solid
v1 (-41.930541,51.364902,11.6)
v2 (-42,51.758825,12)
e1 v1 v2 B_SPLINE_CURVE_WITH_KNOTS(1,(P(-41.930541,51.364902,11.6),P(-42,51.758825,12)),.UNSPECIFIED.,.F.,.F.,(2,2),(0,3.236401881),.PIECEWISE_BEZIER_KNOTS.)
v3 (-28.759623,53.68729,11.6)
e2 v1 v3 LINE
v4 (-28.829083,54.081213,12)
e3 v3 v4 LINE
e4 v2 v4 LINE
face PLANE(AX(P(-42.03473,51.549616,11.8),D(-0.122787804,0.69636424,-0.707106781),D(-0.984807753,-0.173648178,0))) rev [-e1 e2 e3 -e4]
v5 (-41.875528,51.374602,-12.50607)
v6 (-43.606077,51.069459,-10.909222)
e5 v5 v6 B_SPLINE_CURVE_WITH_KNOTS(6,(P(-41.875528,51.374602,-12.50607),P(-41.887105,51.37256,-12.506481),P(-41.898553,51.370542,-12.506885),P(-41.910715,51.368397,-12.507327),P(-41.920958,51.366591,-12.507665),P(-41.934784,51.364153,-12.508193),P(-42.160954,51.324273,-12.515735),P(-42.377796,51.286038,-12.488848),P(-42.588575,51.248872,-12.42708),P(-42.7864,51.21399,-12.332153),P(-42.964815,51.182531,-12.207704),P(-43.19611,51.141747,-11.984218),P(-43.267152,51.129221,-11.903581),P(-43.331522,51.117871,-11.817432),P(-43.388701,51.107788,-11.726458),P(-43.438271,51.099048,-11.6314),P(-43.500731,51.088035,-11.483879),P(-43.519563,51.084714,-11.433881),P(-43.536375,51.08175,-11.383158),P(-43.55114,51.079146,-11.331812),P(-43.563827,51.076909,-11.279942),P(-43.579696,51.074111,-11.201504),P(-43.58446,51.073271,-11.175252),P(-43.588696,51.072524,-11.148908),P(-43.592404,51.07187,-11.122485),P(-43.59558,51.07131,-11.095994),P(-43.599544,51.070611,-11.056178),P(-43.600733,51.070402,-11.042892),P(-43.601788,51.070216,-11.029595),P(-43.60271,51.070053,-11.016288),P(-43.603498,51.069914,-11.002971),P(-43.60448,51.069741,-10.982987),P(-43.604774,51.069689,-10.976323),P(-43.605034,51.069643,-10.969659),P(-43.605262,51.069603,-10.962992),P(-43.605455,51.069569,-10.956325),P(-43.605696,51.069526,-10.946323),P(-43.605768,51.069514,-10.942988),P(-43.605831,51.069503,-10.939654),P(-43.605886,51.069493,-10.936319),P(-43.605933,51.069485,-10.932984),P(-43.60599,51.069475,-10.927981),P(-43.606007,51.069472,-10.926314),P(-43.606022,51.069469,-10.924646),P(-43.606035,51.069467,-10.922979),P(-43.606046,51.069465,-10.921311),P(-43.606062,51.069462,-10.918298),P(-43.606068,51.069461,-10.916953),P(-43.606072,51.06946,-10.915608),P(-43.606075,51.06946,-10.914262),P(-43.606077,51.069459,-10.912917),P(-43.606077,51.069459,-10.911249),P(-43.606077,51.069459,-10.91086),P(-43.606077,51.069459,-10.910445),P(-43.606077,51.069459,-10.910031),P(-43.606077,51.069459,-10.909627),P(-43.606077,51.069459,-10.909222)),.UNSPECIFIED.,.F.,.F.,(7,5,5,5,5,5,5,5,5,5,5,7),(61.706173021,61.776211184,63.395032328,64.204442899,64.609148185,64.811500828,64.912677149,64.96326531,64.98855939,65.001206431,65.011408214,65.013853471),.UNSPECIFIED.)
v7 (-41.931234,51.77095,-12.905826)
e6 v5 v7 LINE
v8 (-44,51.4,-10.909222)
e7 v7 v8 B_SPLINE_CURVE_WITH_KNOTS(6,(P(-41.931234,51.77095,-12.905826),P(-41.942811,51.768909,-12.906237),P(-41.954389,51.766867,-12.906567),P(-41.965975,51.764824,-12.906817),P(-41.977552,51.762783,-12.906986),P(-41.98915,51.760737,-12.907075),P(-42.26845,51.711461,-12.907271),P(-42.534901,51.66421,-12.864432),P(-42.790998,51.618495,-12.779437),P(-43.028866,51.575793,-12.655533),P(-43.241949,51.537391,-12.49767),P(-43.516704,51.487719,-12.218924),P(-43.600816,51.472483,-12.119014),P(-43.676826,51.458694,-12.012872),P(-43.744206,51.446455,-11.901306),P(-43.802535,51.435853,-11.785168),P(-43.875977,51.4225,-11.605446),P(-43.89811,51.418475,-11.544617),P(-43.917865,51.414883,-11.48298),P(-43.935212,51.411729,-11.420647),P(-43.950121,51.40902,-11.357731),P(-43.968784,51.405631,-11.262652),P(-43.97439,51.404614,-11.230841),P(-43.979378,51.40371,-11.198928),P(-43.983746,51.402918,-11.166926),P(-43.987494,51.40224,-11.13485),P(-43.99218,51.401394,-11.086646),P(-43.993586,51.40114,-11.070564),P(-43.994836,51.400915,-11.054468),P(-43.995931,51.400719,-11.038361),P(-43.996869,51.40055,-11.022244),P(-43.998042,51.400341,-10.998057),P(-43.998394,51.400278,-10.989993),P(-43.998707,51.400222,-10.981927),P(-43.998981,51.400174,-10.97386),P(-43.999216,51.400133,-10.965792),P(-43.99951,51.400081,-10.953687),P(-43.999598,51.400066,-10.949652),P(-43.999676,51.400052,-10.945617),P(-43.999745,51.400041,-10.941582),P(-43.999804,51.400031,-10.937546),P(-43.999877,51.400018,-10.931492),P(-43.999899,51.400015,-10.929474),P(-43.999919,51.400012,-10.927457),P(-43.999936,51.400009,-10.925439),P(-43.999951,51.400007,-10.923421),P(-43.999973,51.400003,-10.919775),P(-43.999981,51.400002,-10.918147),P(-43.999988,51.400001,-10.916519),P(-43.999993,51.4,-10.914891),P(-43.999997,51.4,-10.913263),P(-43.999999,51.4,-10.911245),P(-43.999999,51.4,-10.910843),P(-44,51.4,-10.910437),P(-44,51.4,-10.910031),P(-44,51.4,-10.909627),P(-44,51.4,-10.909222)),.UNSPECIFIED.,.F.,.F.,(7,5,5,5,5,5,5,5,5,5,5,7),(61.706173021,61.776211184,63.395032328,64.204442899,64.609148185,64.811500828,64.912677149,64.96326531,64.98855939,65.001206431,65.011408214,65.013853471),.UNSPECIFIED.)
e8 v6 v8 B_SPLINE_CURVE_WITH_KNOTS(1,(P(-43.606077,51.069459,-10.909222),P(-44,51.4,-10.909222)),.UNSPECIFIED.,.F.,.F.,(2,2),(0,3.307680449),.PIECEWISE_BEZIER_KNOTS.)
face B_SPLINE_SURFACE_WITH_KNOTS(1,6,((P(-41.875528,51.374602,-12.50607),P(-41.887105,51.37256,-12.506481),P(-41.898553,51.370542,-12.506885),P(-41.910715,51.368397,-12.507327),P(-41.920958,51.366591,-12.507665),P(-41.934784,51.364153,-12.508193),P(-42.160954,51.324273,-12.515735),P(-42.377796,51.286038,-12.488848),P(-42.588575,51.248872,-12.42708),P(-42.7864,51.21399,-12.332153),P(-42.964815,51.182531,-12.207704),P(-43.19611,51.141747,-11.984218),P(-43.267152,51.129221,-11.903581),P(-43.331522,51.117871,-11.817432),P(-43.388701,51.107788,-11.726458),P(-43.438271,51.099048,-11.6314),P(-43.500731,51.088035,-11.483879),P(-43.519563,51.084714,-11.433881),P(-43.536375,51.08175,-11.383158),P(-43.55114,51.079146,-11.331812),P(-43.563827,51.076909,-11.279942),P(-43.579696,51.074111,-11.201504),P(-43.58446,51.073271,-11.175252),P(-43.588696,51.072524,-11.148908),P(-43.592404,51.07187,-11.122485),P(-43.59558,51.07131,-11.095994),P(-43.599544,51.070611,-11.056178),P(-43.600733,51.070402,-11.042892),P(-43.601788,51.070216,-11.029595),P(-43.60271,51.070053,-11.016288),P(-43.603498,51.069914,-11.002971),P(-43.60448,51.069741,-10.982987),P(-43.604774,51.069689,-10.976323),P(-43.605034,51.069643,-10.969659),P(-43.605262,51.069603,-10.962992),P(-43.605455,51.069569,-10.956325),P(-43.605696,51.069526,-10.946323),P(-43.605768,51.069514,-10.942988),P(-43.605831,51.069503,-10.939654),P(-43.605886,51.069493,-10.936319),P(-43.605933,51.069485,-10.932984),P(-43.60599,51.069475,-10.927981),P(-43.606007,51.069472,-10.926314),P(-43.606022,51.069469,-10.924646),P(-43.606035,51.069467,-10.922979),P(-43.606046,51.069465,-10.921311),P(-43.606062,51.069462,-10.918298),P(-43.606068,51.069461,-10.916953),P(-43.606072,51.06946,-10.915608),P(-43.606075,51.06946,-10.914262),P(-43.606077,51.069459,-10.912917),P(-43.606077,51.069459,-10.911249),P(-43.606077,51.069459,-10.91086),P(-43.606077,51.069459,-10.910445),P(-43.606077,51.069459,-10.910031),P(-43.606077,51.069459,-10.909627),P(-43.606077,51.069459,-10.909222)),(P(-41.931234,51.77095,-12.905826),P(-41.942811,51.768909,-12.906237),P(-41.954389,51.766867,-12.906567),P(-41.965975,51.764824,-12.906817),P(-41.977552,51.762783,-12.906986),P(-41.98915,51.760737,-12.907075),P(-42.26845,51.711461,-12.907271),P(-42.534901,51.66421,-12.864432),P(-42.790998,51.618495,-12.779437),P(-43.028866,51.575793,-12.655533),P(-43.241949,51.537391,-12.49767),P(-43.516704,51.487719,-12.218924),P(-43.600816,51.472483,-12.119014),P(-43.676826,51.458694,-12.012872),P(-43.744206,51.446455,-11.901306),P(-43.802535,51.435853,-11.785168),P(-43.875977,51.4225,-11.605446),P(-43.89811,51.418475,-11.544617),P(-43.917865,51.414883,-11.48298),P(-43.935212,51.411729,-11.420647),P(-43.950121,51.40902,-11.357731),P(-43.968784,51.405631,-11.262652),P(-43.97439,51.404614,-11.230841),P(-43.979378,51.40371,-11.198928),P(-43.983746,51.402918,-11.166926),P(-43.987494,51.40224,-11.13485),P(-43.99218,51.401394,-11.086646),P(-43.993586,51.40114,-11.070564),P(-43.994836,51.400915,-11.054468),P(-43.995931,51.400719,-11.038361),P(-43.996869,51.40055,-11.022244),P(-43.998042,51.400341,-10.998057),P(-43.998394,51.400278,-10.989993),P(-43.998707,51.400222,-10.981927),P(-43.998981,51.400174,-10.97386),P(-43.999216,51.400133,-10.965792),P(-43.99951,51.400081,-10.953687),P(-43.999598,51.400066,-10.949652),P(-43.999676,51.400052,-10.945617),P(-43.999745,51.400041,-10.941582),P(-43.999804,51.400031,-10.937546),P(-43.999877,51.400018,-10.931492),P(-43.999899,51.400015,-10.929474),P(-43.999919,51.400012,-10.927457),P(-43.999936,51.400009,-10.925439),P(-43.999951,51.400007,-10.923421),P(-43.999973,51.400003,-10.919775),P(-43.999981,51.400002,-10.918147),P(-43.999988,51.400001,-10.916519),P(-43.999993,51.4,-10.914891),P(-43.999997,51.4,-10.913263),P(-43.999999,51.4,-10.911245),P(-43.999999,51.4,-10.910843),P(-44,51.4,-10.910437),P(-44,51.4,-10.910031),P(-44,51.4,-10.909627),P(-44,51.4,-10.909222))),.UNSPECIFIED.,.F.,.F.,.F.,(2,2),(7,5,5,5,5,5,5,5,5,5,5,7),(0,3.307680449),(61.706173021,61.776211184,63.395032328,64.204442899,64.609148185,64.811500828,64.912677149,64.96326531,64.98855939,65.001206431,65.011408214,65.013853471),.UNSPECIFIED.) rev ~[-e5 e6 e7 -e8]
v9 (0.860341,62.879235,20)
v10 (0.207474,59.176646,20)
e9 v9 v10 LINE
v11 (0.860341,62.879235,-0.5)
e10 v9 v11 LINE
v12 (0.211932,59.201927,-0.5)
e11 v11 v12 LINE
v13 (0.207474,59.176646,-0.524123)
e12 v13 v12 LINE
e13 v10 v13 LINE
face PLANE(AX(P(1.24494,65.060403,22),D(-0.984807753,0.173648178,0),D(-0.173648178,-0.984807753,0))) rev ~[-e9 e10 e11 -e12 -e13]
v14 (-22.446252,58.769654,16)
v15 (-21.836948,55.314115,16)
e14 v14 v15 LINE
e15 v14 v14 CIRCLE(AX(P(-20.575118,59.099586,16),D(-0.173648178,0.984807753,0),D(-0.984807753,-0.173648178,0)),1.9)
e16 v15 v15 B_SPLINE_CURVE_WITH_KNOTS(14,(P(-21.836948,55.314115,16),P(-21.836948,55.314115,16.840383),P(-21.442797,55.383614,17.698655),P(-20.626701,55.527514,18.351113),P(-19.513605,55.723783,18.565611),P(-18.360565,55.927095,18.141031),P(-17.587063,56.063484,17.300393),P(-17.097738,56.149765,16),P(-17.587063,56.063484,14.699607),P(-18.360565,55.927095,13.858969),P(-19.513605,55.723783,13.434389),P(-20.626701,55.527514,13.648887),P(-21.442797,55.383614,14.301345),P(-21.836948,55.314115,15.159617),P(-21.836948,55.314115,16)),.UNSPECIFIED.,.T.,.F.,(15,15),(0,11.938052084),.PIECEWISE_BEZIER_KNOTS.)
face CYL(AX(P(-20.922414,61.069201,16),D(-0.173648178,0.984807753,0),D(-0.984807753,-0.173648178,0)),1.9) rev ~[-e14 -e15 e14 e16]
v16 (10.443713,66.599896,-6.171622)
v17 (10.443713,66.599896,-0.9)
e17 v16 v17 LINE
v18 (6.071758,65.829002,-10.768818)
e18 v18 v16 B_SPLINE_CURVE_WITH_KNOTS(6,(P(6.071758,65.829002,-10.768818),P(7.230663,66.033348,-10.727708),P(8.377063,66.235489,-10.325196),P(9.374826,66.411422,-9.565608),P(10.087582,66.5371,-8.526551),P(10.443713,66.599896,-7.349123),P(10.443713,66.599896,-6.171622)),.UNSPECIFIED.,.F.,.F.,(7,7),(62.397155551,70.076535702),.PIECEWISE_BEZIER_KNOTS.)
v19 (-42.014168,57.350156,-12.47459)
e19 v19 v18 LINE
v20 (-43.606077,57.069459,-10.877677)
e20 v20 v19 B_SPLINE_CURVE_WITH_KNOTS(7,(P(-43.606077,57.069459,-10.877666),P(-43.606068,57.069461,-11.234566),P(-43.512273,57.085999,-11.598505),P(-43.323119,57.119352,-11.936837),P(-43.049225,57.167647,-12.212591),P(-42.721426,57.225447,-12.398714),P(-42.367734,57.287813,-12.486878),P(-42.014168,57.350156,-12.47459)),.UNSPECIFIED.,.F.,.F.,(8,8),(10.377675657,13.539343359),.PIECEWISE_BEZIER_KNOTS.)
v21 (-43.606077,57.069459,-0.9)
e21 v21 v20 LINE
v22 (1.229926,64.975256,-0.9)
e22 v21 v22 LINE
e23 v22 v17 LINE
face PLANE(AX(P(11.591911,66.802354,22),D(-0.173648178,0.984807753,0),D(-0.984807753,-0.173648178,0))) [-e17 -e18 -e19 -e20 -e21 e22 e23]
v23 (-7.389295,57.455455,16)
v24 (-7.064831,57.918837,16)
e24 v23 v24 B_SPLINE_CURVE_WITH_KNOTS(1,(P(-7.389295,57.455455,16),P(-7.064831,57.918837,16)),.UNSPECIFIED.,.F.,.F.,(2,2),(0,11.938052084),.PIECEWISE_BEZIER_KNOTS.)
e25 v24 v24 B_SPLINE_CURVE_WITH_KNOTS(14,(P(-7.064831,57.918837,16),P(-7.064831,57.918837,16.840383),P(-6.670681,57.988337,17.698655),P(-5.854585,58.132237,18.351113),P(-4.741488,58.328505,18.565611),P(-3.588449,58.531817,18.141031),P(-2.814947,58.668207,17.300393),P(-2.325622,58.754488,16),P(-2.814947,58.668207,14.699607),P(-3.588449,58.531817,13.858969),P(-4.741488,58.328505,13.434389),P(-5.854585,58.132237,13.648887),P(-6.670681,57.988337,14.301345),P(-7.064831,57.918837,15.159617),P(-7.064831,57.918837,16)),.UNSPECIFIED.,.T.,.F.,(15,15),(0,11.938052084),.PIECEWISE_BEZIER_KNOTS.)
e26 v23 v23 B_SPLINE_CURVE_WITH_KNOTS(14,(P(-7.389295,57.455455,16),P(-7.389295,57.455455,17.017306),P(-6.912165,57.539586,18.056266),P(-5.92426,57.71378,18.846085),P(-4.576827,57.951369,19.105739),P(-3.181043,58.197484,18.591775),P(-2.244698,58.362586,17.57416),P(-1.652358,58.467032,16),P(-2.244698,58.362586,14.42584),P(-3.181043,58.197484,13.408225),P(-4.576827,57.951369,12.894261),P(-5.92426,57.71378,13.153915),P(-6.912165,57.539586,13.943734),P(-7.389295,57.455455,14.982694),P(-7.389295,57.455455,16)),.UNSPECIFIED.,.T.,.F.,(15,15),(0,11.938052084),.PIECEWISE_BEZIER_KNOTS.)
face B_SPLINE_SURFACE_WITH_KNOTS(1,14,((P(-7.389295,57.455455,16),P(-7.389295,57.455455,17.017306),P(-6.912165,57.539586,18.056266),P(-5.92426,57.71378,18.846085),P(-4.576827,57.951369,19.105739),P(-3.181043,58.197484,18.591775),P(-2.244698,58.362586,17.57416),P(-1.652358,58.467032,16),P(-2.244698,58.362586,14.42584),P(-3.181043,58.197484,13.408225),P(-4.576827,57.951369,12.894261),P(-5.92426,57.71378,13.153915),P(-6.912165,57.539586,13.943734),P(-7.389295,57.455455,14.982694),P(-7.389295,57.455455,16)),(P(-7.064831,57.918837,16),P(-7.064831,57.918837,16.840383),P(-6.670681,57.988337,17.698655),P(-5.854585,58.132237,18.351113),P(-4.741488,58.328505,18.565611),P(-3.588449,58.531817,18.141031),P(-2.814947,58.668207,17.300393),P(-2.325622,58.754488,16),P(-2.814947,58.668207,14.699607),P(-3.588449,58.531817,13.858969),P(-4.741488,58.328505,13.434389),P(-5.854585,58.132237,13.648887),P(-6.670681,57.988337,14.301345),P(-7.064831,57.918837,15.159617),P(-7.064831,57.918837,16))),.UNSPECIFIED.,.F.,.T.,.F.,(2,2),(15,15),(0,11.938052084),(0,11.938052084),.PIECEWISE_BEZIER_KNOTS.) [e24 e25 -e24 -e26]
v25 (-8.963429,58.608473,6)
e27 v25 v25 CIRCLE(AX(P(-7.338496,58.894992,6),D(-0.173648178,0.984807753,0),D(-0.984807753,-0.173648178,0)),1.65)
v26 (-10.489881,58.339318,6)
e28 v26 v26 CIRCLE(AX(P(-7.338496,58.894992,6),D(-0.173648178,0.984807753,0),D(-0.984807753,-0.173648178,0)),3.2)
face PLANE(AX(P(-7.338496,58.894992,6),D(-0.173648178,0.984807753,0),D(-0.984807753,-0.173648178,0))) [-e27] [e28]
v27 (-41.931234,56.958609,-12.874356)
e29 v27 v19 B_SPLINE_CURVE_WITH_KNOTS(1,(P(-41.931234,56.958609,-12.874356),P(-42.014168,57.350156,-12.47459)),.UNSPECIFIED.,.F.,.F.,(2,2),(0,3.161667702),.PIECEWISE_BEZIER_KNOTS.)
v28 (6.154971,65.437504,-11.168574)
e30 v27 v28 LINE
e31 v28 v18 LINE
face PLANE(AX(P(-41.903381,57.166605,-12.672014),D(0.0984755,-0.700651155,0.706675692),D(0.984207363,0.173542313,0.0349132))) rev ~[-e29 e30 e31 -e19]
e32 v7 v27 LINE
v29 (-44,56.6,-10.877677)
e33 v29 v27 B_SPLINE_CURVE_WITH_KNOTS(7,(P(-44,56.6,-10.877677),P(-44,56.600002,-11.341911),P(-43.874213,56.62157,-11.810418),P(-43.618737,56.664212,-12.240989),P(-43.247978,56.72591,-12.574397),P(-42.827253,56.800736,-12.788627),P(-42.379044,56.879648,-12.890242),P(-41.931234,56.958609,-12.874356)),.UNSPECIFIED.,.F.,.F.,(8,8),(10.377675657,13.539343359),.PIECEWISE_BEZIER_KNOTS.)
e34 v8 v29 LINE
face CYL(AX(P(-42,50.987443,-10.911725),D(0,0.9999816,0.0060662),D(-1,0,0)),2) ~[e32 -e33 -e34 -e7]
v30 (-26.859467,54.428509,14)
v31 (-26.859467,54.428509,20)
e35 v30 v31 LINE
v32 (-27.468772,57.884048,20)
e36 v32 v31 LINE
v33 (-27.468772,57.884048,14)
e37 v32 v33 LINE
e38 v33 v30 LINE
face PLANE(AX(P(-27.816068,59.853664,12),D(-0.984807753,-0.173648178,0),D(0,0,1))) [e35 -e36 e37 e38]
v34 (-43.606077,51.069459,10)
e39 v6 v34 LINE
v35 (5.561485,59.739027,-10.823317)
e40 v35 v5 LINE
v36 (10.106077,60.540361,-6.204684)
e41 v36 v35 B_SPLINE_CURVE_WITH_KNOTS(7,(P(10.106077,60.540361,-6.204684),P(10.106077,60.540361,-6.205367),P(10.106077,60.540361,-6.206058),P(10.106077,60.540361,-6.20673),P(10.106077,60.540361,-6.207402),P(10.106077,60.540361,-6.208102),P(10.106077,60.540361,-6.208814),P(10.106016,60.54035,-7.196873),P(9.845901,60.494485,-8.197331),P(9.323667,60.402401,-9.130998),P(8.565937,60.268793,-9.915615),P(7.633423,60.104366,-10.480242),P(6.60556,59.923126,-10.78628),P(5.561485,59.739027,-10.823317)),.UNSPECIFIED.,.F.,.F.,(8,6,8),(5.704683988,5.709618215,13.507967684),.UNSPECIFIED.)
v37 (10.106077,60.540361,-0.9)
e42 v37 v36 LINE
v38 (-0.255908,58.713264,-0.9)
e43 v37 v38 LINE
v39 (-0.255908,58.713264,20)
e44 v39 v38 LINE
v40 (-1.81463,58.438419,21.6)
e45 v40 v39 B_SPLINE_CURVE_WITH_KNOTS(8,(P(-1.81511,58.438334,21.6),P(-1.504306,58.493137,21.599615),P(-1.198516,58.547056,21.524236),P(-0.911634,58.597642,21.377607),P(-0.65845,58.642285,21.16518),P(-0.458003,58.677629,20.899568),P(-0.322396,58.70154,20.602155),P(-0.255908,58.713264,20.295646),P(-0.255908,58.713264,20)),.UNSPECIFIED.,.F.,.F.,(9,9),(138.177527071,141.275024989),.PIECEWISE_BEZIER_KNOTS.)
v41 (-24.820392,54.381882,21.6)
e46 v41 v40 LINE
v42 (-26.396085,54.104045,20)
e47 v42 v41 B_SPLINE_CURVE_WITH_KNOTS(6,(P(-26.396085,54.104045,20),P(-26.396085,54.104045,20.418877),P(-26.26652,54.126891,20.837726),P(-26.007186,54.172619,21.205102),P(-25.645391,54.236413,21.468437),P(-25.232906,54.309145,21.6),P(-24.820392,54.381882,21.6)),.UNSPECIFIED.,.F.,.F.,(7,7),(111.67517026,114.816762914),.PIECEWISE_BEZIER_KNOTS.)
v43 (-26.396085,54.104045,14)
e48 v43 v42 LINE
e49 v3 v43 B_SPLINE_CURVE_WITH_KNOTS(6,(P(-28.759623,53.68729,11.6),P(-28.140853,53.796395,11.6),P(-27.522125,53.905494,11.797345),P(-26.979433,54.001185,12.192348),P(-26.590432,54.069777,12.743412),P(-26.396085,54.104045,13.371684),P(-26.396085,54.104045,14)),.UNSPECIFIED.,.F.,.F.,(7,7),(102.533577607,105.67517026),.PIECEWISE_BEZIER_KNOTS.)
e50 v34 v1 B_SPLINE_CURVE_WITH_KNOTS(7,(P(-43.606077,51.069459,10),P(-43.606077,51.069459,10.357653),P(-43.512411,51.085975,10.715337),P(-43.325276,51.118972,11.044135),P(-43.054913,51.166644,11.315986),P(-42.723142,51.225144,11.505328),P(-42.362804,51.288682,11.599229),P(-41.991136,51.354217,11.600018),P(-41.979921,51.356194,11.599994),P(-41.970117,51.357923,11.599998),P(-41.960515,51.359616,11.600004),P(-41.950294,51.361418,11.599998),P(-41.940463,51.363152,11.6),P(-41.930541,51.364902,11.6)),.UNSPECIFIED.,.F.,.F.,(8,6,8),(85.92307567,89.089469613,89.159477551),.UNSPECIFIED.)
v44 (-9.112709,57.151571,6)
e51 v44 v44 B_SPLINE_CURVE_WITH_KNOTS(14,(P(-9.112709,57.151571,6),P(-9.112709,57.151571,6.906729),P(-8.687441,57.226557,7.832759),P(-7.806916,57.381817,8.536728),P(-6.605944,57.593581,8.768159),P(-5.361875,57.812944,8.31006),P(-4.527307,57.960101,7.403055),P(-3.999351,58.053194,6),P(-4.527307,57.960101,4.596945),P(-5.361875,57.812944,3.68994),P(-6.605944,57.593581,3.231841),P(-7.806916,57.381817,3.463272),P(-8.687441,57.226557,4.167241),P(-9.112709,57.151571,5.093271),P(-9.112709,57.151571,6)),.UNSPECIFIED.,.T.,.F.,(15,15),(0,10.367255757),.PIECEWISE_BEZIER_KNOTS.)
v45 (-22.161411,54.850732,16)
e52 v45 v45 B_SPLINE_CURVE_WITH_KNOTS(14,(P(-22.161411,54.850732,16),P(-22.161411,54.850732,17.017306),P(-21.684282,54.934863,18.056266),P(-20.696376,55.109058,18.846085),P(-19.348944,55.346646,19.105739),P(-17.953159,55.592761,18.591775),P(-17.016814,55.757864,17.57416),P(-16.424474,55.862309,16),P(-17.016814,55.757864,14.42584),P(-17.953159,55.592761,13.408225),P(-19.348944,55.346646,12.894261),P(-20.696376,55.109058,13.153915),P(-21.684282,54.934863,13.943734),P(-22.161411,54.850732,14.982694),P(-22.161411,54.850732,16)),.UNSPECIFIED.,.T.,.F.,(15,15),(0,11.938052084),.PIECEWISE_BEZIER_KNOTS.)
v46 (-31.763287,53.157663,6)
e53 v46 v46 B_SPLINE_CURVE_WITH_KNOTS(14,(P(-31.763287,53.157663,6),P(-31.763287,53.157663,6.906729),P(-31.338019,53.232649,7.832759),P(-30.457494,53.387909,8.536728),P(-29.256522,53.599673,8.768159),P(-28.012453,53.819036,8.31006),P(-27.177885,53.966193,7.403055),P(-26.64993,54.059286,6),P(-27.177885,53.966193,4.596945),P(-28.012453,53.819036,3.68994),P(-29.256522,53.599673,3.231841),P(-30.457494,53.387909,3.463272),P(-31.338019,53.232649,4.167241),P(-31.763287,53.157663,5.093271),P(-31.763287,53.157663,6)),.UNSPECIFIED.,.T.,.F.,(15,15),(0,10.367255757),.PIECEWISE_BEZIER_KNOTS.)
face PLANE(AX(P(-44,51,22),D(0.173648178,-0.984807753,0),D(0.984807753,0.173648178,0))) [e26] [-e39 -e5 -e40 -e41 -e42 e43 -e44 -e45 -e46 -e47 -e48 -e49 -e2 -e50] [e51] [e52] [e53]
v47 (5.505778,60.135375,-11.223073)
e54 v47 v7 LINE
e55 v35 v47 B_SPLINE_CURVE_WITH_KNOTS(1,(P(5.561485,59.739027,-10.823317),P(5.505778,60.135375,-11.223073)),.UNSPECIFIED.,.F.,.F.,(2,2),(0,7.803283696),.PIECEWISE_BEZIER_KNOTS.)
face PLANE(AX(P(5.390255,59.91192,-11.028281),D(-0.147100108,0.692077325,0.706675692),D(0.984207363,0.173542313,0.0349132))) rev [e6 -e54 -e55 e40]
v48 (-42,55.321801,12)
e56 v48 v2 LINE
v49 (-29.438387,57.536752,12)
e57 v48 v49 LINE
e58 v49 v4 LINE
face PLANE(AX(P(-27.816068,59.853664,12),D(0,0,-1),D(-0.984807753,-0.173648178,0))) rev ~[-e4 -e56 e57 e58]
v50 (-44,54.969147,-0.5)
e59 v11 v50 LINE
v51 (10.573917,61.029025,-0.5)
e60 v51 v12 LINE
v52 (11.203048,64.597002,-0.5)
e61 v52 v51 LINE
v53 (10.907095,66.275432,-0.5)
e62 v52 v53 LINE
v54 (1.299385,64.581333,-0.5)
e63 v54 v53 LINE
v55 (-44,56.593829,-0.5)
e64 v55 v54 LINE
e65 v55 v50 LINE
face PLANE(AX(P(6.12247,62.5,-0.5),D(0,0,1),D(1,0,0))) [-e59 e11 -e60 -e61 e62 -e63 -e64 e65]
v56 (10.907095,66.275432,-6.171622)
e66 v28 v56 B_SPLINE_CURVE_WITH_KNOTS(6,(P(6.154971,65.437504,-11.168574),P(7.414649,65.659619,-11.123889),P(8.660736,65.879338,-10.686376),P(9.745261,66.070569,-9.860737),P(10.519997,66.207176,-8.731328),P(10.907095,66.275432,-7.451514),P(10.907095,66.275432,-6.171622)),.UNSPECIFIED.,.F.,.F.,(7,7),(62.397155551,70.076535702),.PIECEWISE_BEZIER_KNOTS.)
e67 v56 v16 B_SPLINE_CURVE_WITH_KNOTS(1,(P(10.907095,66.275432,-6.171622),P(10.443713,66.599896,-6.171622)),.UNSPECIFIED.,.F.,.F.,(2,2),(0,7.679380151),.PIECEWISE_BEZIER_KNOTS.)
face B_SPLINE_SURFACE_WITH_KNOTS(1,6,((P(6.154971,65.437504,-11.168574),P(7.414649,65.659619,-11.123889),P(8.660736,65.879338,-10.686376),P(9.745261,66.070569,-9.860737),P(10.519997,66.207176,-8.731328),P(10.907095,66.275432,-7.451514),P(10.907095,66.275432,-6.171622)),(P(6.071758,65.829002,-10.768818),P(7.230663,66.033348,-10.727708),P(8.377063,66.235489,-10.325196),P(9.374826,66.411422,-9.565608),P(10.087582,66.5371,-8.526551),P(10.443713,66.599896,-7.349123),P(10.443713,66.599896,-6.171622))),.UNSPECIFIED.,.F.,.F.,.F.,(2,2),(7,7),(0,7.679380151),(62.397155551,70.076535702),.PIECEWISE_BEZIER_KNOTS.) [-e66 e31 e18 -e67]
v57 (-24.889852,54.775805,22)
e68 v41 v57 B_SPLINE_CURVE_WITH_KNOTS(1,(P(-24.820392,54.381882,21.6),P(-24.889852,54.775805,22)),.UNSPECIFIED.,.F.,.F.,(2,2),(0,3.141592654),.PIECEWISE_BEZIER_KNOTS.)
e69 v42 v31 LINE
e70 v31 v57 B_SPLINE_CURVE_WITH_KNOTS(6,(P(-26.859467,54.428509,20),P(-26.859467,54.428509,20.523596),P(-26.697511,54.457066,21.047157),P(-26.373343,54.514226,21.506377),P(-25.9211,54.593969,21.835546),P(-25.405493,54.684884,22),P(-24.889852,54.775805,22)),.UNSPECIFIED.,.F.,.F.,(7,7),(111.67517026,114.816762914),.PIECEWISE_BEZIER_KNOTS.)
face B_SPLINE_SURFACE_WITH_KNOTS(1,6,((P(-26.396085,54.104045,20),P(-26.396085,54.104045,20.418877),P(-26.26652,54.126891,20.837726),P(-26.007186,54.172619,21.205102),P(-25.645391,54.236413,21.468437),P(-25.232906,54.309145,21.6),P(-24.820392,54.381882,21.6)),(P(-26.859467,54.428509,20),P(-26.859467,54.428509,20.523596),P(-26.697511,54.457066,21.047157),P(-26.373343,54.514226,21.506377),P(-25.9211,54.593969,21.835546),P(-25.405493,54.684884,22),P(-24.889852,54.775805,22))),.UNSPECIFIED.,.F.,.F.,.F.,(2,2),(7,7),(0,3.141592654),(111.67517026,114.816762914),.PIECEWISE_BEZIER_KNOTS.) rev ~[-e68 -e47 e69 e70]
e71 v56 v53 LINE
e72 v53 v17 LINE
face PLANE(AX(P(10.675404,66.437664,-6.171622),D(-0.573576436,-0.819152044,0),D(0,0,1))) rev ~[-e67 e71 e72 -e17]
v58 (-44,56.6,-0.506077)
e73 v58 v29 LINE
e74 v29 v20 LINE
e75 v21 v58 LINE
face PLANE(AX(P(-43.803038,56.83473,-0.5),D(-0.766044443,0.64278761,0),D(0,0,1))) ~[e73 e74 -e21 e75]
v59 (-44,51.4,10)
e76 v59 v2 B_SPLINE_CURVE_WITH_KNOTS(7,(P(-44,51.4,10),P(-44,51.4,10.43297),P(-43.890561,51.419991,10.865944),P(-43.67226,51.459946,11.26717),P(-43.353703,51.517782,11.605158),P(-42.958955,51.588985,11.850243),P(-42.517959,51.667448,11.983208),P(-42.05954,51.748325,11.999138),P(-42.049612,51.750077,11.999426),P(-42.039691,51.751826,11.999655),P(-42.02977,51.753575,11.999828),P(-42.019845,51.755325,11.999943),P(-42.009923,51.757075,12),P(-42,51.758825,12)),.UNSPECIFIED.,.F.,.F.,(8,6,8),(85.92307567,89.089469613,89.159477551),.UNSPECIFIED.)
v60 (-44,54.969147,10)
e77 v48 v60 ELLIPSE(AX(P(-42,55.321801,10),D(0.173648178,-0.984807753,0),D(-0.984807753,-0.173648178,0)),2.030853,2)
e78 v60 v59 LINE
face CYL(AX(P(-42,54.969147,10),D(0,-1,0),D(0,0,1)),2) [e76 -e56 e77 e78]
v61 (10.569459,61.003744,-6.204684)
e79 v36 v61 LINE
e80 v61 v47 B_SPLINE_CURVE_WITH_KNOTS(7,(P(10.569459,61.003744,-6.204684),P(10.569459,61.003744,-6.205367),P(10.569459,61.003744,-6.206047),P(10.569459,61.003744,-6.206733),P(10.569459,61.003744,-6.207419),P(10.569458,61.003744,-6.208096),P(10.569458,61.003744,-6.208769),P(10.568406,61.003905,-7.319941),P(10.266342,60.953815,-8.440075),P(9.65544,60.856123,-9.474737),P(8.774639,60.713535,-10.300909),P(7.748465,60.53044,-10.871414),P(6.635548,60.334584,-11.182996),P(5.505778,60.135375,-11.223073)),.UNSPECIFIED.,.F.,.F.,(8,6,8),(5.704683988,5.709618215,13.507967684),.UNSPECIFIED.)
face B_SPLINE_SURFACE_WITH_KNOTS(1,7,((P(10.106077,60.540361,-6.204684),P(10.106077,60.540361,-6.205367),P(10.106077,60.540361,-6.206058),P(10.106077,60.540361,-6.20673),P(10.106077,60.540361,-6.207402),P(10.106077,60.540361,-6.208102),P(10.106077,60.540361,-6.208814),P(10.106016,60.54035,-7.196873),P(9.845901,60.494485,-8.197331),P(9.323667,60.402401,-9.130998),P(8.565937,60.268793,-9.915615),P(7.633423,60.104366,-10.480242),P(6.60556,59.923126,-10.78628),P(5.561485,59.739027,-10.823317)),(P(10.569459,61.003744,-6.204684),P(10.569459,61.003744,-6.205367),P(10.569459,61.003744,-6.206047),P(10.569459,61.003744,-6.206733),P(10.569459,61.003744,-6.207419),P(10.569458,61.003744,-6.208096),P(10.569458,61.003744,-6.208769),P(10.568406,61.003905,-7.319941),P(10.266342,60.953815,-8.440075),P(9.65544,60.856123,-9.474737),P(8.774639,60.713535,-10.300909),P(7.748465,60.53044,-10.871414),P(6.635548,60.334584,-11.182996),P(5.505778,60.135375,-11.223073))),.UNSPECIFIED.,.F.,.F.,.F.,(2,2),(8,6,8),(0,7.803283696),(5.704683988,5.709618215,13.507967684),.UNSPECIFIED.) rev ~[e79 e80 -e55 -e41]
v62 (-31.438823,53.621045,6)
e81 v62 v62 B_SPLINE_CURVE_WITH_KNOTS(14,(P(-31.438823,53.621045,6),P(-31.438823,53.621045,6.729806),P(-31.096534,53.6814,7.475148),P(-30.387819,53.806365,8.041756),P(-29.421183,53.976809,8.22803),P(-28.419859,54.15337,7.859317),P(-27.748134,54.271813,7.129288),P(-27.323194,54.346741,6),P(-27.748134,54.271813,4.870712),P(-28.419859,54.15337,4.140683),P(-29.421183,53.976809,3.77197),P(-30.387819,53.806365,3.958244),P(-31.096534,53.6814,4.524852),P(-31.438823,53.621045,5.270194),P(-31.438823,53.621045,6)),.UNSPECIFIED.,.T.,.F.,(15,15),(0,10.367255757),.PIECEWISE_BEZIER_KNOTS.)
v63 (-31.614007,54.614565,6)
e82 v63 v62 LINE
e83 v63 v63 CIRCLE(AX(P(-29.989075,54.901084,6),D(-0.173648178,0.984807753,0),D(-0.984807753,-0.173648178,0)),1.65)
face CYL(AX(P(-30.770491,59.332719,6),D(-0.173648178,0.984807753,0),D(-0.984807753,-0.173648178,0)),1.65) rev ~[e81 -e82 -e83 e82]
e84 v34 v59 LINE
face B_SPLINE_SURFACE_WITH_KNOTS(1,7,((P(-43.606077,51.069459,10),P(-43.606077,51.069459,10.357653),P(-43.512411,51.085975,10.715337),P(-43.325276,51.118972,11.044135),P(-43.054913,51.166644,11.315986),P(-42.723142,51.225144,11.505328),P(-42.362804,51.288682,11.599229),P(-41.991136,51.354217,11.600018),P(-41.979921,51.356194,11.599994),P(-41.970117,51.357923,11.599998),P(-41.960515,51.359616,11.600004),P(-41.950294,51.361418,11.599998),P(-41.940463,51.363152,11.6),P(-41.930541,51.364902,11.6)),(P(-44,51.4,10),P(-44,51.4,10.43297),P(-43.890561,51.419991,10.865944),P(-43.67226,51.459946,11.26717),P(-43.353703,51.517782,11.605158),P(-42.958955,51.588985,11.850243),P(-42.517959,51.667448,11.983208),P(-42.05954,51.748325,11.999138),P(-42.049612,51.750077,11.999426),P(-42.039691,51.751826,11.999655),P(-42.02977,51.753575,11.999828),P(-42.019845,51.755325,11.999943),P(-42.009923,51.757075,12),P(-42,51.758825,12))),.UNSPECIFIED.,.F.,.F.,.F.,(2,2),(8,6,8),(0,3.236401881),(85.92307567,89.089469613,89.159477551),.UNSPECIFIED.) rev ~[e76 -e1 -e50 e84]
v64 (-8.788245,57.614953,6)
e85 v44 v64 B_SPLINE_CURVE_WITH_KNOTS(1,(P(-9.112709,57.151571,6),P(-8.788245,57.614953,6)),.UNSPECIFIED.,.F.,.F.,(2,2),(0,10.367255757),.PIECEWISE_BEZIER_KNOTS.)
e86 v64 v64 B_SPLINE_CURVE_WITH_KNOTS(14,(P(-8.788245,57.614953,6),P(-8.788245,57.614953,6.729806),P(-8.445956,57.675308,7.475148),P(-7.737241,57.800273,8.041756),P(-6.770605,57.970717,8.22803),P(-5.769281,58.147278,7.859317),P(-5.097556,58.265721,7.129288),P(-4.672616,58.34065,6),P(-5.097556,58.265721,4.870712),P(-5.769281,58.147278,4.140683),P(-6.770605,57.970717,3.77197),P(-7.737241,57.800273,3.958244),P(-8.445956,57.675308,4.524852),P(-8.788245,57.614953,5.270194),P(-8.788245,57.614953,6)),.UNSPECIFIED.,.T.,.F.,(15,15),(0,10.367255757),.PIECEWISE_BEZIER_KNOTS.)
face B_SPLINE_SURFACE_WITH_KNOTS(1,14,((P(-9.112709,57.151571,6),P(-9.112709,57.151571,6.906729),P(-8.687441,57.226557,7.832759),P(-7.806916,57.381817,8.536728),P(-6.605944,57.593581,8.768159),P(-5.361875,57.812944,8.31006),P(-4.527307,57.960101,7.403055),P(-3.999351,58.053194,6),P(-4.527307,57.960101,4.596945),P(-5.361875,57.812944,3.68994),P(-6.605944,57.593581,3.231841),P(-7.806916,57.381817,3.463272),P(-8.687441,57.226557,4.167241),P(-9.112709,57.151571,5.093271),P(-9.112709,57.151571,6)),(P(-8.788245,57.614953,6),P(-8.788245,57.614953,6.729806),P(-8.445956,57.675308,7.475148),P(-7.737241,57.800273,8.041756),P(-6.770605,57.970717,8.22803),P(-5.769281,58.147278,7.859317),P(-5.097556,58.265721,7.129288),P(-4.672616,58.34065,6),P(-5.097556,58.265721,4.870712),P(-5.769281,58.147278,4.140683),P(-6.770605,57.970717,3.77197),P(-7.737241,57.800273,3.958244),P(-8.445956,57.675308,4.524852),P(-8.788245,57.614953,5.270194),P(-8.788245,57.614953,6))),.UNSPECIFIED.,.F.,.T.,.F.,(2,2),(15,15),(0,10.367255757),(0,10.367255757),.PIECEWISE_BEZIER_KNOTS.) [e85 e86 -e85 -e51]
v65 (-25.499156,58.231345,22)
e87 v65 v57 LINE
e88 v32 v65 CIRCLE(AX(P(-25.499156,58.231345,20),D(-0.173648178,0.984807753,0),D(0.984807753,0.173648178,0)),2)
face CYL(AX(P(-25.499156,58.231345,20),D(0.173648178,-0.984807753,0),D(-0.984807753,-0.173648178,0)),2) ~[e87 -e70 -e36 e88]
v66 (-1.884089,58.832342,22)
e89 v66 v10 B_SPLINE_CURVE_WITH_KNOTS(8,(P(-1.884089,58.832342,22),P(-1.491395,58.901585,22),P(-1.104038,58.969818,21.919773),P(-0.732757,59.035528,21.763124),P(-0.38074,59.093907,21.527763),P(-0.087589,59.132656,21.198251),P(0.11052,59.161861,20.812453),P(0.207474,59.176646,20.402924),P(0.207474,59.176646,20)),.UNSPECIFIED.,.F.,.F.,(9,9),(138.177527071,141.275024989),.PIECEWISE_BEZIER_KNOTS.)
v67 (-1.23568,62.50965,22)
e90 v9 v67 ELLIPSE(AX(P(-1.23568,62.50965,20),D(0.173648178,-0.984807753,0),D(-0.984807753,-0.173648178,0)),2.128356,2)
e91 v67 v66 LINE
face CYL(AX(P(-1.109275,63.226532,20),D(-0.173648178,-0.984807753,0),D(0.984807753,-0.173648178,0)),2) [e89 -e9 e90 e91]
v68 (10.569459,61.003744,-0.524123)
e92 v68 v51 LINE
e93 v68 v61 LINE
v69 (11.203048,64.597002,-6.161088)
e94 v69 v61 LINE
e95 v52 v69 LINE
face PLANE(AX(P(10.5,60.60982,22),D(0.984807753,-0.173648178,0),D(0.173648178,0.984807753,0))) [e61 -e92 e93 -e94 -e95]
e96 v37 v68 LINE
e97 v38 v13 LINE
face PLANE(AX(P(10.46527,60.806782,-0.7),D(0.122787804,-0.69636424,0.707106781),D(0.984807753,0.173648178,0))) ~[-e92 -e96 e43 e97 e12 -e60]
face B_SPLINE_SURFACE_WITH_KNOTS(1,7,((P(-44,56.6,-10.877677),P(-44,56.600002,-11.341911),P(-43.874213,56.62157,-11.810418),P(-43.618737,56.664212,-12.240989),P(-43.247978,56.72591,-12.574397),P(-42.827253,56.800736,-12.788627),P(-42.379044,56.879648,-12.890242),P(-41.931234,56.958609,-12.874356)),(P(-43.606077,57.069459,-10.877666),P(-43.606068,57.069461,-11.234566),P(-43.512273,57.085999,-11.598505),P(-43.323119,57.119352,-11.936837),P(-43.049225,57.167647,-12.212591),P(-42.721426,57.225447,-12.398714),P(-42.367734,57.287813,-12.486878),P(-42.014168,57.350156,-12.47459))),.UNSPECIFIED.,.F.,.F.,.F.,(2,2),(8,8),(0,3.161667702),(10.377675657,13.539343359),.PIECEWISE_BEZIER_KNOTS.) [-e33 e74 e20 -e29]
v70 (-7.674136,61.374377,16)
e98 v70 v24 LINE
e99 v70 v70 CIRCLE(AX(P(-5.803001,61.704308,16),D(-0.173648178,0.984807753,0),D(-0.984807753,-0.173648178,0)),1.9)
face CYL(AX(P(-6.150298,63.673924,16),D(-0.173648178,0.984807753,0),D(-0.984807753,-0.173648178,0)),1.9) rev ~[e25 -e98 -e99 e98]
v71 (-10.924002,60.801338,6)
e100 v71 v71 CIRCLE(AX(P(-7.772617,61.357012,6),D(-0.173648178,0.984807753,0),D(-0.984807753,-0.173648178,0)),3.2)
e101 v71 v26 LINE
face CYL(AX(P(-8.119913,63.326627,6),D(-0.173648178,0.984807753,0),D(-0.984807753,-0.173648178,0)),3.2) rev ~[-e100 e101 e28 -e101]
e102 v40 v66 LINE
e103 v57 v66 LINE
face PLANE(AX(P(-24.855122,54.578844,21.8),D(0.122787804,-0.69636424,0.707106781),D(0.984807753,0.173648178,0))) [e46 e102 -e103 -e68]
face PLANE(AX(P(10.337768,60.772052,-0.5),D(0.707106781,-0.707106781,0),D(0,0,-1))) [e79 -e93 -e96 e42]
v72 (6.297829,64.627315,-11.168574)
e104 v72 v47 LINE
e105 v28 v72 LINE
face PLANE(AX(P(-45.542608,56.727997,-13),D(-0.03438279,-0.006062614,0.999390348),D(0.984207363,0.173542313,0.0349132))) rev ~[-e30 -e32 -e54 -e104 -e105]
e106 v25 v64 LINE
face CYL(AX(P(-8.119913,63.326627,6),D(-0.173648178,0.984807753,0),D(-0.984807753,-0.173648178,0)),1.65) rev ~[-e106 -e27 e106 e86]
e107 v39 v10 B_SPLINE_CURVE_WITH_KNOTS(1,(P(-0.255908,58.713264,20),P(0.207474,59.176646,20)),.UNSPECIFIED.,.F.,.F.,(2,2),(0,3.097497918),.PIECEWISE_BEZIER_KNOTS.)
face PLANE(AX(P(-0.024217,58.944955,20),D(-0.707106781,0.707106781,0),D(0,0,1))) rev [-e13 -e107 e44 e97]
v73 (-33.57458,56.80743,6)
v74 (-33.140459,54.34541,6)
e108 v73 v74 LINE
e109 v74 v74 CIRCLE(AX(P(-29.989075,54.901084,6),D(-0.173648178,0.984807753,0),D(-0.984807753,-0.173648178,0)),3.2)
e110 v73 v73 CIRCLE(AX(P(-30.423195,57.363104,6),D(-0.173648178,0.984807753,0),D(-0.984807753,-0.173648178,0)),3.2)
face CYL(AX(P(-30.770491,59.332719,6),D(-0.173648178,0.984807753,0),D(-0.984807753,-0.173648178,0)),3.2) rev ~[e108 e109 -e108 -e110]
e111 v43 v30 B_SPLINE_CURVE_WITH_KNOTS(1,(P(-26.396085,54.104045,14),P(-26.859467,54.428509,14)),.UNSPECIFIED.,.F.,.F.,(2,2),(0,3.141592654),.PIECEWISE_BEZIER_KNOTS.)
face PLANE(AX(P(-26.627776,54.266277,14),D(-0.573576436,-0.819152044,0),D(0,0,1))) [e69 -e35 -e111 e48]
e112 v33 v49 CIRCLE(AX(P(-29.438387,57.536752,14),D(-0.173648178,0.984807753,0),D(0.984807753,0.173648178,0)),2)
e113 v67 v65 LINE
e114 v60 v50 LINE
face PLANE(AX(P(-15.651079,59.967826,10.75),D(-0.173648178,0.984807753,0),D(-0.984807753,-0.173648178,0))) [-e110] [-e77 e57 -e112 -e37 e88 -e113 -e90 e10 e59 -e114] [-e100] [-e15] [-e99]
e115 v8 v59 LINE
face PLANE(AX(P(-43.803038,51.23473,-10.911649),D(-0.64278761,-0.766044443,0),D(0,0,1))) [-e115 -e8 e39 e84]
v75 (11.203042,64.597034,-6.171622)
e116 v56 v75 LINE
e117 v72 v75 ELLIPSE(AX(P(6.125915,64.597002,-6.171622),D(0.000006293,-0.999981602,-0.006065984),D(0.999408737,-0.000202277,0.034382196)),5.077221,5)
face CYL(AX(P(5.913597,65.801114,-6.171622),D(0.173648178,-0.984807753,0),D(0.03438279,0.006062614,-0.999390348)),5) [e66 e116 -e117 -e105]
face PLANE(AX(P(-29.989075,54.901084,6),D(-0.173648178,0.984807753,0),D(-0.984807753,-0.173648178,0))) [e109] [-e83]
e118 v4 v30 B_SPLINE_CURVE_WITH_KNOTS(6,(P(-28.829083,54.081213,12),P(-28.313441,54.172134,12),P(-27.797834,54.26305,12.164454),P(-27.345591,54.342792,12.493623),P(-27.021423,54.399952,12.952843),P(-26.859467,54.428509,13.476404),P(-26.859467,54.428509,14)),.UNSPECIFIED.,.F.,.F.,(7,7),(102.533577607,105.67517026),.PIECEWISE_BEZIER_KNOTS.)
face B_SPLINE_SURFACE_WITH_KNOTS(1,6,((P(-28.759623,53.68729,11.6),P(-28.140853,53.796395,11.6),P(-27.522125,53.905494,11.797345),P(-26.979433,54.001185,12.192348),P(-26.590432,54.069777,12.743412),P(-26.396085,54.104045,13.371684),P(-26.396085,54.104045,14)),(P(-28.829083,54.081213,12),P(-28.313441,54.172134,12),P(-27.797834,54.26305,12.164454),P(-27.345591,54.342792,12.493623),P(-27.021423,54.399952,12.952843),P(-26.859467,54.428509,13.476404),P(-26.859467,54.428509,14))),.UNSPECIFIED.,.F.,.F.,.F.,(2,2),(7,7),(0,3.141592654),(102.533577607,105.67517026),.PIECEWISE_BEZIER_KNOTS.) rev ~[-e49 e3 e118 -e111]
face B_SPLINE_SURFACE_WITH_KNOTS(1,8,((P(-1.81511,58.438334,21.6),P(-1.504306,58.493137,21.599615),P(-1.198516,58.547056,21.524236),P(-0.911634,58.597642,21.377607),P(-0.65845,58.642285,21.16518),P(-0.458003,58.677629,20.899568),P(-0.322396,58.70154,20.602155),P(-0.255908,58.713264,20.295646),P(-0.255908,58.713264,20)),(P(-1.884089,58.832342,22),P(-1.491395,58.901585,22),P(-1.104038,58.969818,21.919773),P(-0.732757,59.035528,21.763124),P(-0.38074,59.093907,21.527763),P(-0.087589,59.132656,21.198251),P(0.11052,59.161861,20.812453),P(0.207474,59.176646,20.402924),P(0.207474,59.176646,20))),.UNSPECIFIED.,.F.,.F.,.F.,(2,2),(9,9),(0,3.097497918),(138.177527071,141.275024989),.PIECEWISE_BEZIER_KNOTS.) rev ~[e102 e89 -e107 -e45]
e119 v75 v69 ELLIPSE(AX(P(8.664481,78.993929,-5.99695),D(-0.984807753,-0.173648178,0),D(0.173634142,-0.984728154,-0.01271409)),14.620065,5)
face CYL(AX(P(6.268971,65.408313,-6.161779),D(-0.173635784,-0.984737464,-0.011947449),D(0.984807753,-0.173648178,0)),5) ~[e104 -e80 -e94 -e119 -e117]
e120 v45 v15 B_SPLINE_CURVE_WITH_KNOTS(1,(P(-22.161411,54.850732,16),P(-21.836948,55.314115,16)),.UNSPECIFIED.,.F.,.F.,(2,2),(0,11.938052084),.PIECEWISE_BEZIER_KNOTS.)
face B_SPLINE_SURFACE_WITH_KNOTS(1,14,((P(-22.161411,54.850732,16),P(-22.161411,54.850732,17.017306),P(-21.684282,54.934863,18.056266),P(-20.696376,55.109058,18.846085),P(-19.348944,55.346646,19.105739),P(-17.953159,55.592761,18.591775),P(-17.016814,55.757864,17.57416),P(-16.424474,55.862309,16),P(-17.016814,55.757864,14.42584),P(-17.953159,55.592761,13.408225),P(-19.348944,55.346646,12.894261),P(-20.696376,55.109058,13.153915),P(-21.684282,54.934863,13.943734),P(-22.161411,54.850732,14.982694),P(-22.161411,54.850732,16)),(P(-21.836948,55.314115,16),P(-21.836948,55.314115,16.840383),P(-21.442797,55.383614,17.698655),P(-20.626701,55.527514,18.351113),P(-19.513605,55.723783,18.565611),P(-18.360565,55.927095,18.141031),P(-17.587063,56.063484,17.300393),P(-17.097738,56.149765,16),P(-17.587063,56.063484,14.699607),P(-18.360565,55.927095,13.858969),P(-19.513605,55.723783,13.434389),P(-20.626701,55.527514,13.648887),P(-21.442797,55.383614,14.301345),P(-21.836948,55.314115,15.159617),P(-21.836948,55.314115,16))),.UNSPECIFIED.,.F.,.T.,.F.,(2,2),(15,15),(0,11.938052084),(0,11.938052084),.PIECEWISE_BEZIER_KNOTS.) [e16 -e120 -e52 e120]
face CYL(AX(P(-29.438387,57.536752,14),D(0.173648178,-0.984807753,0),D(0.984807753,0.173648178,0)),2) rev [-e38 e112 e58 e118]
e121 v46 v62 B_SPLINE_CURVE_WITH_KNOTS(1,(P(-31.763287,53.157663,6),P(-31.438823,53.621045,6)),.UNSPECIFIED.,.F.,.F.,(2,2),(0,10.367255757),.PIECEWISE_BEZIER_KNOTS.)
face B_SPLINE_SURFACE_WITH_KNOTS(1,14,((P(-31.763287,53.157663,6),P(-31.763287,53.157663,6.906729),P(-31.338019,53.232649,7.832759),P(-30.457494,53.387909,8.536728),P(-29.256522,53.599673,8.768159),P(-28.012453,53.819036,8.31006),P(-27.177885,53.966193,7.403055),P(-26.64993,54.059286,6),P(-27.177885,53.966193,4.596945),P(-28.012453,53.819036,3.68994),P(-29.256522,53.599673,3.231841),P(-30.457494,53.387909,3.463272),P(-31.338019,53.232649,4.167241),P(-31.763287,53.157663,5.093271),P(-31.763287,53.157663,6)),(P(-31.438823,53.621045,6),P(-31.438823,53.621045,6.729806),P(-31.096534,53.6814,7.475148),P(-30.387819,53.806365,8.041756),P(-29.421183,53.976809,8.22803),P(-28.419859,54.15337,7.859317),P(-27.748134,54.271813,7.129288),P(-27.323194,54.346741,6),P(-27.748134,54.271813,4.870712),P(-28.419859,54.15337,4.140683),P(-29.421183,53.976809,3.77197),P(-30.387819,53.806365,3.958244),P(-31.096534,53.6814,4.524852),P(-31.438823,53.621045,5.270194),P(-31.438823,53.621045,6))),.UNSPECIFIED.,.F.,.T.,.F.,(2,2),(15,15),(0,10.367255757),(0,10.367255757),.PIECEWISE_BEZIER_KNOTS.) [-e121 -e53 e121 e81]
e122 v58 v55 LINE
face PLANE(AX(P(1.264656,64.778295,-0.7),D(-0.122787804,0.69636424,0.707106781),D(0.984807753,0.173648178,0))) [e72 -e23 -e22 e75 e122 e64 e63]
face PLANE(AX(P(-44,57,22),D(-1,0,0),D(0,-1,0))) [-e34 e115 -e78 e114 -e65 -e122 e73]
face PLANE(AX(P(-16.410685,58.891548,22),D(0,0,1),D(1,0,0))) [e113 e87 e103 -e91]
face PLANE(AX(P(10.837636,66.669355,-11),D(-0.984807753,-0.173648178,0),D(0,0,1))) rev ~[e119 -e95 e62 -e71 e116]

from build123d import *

# Parameters (mm, degrees)
PAD009_DEPTH    = 35
POCKET007_DEPTH = 22.5
SKETCH018_R     = 1.65
SKETCH018_R_2   = 1.9
SKETCH018_W     = 18
SKETCH018_H     = 10
POCKET008_DEPTH = 15.5632805046
SKETCH019_R     = 3.2
POCKET009_DEPTH = 4.5
SKETCH020_W     = 60
SKETCH020_H     = 22.5
POCKET010_DEPTH = 2
FILLET006_R     = 2
FILLET007_R     = 5
CHAMFER010_SIZE = 0.4


with BuildPart() as part:
    # Sketch016 → Pad009 (new body)
    with BuildSketch(Plane.XY):
        Polygon((-44, 51), (10.5, 60.6098204486), (11.5919107028, 66.802353766), (-44, 57), align=None)
    extrude(amount=-PAD009_DEPTH)

    # Sketch017 (on Face5 of Pad009) → Pocket007 (cut)
    with BuildSketch(Plane.XY):
        Polygon((1.244939581, 65.0604032122), (0, 58), (11, 59.9395967878), (12.244939581, 67), align=None)
    extrude(amount=-POCKET007_DEPTH, mode=Mode.SUBTRACT)

    # Sketch018 (on Face8 of Pocket007) → Pocket008 (cut, through all)
    with BuildSketch(Plane(origin=(-11.0743364275, 62.8056828456, 0), x_dir=(-0.984807753, -0.1736481777, 0), z_dir=(-0.1736481777, 0.984807753, 0))):
        with Locations((-3, -16)):
            Circle(SKETCH018_R)
        with Locations((20, -16)):
            Circle(SKETCH018_R)
        with Locations((-5, -6)):
            Circle(SKETCH018_R_2)
        with Locations((10, -6)):
            Circle(SKETCH018_R_2)
        Polygon((-24, -22), (-24, -35), (35, -35), (-22.25, -33), (-22.25, -22), align=None)
        with Locations((26, -5)):
            Rectangle(SKETCH018_W, SKETCH018_H)
    extrude(amount=-POCKET008_DEPTH, mode=Mode.SUBTRACT)

    # Sketch019 (on Face14 of Pocket008) → Pocket009 (cut)
    with BuildSketch(Plane(origin=(-11.0743364275, 62.8056828456, 0), x_dir=(-0.984807753, -0.1736481777, 0), z_dir=(-0.1736481777, 0.984807753, 0))):
        with Locations((-3, -16)):
            Circle(SKETCH019_R)
        with Locations((20, -16)):
            Circle(SKETCH019_R)
    extrude(amount=-POCKET009_DEPTH, mode=Mode.SUBTRACT)

    # Sketch020 (on Face14 of Pocket009) → Pocket010 (cut)
    with BuildSketch(Plane(origin=(-11.0743364275, 62.8056828456, 0), x_dir=(-0.984807753, -0.1736481777, 0), z_dir=(-0.1736481777, 0.984807753, 0))):
        with Locations((5, -11.25)):
            Rectangle(SKETCH020_W, SKETCH020_H)
    extrude(amount=-POCKET010_DEPTH, mode=Mode.SUBTRACT)

    # Fillet006
    fillet006_edges = [part.edges().sort_by_distance(p)[0] for p in [
        (-27.12939, 55.959317, 0),
        (0.499178, 60.830979, 0),
        (-27.12939, 55.959317, -10),
        (-44, 52.984573, -10),
        (-44, 54, -34.963477),
    ]]
    fillet(fillet006_edges, radius=FILLET006_R)

    # Fillet007
    fillet007_edges = [part.edges().sort_by_distance(p)[0] for p in [
        (10.851524, 62.603411, -33.024187),
        (11.020342, 65.633179, -33),
    ]]
    fillet(fillet007_edges, radius=FILLET007_R)

    # Chamfer010
    chamfer010_edges = [part.edges().sort_by_distance(p)[0] for p in [
        (-17.922862, 61.598103, -34.020233),
        (9.455678, 66.425678, -31.64489),
        (-43.383978, 57.108621, -34.318434),
        (10.837636, 66.669355, -25.335811),
        (-44, 57, -27.687625),
        (6.033781, 65.822306, -22.5),
        (-21.385037, 60.987628, -22.5),
        (10.5, 60.60982, -25.354732),
        (8.970416, 60.340113, -31.746636),
        (5.319008, 59.696272, -22.5),
        (-18.249687, 55.540475, -34.068225),
        (0.138015, 58.782723, -12.25),
        (-43.383978, 51.108621, -34.354832),
        (-0.499087, 58.670385, -0.563998),
        (-44, 51, -22.455824),
        (-13.389199, 56.39751, 0),
        (-43.408791, 51.104246, -10.580385),
        (-26.213121, 54.136307, -0.585786),
        (-35.379812, 52.519972, -10),
        (-26.790008, 54.034586, -5),
        (-27.366895, 53.932865, -9.414214),
        (-28.119498, 53.800161, -16),
        (-5.46892, 57.794069, -16),
        (-18.025219, 55.580055, -6),
        (-3.253103, 58.184777, -6),
    ]]
    chamfer(chamfer010_edges, length=CHAMFER010_SIZE)


with BuildPart() as part_1:
    # Body004007 placement: moved
    add(part.part.moved(Location((0, 0, 22))))


solid = part_1.part
